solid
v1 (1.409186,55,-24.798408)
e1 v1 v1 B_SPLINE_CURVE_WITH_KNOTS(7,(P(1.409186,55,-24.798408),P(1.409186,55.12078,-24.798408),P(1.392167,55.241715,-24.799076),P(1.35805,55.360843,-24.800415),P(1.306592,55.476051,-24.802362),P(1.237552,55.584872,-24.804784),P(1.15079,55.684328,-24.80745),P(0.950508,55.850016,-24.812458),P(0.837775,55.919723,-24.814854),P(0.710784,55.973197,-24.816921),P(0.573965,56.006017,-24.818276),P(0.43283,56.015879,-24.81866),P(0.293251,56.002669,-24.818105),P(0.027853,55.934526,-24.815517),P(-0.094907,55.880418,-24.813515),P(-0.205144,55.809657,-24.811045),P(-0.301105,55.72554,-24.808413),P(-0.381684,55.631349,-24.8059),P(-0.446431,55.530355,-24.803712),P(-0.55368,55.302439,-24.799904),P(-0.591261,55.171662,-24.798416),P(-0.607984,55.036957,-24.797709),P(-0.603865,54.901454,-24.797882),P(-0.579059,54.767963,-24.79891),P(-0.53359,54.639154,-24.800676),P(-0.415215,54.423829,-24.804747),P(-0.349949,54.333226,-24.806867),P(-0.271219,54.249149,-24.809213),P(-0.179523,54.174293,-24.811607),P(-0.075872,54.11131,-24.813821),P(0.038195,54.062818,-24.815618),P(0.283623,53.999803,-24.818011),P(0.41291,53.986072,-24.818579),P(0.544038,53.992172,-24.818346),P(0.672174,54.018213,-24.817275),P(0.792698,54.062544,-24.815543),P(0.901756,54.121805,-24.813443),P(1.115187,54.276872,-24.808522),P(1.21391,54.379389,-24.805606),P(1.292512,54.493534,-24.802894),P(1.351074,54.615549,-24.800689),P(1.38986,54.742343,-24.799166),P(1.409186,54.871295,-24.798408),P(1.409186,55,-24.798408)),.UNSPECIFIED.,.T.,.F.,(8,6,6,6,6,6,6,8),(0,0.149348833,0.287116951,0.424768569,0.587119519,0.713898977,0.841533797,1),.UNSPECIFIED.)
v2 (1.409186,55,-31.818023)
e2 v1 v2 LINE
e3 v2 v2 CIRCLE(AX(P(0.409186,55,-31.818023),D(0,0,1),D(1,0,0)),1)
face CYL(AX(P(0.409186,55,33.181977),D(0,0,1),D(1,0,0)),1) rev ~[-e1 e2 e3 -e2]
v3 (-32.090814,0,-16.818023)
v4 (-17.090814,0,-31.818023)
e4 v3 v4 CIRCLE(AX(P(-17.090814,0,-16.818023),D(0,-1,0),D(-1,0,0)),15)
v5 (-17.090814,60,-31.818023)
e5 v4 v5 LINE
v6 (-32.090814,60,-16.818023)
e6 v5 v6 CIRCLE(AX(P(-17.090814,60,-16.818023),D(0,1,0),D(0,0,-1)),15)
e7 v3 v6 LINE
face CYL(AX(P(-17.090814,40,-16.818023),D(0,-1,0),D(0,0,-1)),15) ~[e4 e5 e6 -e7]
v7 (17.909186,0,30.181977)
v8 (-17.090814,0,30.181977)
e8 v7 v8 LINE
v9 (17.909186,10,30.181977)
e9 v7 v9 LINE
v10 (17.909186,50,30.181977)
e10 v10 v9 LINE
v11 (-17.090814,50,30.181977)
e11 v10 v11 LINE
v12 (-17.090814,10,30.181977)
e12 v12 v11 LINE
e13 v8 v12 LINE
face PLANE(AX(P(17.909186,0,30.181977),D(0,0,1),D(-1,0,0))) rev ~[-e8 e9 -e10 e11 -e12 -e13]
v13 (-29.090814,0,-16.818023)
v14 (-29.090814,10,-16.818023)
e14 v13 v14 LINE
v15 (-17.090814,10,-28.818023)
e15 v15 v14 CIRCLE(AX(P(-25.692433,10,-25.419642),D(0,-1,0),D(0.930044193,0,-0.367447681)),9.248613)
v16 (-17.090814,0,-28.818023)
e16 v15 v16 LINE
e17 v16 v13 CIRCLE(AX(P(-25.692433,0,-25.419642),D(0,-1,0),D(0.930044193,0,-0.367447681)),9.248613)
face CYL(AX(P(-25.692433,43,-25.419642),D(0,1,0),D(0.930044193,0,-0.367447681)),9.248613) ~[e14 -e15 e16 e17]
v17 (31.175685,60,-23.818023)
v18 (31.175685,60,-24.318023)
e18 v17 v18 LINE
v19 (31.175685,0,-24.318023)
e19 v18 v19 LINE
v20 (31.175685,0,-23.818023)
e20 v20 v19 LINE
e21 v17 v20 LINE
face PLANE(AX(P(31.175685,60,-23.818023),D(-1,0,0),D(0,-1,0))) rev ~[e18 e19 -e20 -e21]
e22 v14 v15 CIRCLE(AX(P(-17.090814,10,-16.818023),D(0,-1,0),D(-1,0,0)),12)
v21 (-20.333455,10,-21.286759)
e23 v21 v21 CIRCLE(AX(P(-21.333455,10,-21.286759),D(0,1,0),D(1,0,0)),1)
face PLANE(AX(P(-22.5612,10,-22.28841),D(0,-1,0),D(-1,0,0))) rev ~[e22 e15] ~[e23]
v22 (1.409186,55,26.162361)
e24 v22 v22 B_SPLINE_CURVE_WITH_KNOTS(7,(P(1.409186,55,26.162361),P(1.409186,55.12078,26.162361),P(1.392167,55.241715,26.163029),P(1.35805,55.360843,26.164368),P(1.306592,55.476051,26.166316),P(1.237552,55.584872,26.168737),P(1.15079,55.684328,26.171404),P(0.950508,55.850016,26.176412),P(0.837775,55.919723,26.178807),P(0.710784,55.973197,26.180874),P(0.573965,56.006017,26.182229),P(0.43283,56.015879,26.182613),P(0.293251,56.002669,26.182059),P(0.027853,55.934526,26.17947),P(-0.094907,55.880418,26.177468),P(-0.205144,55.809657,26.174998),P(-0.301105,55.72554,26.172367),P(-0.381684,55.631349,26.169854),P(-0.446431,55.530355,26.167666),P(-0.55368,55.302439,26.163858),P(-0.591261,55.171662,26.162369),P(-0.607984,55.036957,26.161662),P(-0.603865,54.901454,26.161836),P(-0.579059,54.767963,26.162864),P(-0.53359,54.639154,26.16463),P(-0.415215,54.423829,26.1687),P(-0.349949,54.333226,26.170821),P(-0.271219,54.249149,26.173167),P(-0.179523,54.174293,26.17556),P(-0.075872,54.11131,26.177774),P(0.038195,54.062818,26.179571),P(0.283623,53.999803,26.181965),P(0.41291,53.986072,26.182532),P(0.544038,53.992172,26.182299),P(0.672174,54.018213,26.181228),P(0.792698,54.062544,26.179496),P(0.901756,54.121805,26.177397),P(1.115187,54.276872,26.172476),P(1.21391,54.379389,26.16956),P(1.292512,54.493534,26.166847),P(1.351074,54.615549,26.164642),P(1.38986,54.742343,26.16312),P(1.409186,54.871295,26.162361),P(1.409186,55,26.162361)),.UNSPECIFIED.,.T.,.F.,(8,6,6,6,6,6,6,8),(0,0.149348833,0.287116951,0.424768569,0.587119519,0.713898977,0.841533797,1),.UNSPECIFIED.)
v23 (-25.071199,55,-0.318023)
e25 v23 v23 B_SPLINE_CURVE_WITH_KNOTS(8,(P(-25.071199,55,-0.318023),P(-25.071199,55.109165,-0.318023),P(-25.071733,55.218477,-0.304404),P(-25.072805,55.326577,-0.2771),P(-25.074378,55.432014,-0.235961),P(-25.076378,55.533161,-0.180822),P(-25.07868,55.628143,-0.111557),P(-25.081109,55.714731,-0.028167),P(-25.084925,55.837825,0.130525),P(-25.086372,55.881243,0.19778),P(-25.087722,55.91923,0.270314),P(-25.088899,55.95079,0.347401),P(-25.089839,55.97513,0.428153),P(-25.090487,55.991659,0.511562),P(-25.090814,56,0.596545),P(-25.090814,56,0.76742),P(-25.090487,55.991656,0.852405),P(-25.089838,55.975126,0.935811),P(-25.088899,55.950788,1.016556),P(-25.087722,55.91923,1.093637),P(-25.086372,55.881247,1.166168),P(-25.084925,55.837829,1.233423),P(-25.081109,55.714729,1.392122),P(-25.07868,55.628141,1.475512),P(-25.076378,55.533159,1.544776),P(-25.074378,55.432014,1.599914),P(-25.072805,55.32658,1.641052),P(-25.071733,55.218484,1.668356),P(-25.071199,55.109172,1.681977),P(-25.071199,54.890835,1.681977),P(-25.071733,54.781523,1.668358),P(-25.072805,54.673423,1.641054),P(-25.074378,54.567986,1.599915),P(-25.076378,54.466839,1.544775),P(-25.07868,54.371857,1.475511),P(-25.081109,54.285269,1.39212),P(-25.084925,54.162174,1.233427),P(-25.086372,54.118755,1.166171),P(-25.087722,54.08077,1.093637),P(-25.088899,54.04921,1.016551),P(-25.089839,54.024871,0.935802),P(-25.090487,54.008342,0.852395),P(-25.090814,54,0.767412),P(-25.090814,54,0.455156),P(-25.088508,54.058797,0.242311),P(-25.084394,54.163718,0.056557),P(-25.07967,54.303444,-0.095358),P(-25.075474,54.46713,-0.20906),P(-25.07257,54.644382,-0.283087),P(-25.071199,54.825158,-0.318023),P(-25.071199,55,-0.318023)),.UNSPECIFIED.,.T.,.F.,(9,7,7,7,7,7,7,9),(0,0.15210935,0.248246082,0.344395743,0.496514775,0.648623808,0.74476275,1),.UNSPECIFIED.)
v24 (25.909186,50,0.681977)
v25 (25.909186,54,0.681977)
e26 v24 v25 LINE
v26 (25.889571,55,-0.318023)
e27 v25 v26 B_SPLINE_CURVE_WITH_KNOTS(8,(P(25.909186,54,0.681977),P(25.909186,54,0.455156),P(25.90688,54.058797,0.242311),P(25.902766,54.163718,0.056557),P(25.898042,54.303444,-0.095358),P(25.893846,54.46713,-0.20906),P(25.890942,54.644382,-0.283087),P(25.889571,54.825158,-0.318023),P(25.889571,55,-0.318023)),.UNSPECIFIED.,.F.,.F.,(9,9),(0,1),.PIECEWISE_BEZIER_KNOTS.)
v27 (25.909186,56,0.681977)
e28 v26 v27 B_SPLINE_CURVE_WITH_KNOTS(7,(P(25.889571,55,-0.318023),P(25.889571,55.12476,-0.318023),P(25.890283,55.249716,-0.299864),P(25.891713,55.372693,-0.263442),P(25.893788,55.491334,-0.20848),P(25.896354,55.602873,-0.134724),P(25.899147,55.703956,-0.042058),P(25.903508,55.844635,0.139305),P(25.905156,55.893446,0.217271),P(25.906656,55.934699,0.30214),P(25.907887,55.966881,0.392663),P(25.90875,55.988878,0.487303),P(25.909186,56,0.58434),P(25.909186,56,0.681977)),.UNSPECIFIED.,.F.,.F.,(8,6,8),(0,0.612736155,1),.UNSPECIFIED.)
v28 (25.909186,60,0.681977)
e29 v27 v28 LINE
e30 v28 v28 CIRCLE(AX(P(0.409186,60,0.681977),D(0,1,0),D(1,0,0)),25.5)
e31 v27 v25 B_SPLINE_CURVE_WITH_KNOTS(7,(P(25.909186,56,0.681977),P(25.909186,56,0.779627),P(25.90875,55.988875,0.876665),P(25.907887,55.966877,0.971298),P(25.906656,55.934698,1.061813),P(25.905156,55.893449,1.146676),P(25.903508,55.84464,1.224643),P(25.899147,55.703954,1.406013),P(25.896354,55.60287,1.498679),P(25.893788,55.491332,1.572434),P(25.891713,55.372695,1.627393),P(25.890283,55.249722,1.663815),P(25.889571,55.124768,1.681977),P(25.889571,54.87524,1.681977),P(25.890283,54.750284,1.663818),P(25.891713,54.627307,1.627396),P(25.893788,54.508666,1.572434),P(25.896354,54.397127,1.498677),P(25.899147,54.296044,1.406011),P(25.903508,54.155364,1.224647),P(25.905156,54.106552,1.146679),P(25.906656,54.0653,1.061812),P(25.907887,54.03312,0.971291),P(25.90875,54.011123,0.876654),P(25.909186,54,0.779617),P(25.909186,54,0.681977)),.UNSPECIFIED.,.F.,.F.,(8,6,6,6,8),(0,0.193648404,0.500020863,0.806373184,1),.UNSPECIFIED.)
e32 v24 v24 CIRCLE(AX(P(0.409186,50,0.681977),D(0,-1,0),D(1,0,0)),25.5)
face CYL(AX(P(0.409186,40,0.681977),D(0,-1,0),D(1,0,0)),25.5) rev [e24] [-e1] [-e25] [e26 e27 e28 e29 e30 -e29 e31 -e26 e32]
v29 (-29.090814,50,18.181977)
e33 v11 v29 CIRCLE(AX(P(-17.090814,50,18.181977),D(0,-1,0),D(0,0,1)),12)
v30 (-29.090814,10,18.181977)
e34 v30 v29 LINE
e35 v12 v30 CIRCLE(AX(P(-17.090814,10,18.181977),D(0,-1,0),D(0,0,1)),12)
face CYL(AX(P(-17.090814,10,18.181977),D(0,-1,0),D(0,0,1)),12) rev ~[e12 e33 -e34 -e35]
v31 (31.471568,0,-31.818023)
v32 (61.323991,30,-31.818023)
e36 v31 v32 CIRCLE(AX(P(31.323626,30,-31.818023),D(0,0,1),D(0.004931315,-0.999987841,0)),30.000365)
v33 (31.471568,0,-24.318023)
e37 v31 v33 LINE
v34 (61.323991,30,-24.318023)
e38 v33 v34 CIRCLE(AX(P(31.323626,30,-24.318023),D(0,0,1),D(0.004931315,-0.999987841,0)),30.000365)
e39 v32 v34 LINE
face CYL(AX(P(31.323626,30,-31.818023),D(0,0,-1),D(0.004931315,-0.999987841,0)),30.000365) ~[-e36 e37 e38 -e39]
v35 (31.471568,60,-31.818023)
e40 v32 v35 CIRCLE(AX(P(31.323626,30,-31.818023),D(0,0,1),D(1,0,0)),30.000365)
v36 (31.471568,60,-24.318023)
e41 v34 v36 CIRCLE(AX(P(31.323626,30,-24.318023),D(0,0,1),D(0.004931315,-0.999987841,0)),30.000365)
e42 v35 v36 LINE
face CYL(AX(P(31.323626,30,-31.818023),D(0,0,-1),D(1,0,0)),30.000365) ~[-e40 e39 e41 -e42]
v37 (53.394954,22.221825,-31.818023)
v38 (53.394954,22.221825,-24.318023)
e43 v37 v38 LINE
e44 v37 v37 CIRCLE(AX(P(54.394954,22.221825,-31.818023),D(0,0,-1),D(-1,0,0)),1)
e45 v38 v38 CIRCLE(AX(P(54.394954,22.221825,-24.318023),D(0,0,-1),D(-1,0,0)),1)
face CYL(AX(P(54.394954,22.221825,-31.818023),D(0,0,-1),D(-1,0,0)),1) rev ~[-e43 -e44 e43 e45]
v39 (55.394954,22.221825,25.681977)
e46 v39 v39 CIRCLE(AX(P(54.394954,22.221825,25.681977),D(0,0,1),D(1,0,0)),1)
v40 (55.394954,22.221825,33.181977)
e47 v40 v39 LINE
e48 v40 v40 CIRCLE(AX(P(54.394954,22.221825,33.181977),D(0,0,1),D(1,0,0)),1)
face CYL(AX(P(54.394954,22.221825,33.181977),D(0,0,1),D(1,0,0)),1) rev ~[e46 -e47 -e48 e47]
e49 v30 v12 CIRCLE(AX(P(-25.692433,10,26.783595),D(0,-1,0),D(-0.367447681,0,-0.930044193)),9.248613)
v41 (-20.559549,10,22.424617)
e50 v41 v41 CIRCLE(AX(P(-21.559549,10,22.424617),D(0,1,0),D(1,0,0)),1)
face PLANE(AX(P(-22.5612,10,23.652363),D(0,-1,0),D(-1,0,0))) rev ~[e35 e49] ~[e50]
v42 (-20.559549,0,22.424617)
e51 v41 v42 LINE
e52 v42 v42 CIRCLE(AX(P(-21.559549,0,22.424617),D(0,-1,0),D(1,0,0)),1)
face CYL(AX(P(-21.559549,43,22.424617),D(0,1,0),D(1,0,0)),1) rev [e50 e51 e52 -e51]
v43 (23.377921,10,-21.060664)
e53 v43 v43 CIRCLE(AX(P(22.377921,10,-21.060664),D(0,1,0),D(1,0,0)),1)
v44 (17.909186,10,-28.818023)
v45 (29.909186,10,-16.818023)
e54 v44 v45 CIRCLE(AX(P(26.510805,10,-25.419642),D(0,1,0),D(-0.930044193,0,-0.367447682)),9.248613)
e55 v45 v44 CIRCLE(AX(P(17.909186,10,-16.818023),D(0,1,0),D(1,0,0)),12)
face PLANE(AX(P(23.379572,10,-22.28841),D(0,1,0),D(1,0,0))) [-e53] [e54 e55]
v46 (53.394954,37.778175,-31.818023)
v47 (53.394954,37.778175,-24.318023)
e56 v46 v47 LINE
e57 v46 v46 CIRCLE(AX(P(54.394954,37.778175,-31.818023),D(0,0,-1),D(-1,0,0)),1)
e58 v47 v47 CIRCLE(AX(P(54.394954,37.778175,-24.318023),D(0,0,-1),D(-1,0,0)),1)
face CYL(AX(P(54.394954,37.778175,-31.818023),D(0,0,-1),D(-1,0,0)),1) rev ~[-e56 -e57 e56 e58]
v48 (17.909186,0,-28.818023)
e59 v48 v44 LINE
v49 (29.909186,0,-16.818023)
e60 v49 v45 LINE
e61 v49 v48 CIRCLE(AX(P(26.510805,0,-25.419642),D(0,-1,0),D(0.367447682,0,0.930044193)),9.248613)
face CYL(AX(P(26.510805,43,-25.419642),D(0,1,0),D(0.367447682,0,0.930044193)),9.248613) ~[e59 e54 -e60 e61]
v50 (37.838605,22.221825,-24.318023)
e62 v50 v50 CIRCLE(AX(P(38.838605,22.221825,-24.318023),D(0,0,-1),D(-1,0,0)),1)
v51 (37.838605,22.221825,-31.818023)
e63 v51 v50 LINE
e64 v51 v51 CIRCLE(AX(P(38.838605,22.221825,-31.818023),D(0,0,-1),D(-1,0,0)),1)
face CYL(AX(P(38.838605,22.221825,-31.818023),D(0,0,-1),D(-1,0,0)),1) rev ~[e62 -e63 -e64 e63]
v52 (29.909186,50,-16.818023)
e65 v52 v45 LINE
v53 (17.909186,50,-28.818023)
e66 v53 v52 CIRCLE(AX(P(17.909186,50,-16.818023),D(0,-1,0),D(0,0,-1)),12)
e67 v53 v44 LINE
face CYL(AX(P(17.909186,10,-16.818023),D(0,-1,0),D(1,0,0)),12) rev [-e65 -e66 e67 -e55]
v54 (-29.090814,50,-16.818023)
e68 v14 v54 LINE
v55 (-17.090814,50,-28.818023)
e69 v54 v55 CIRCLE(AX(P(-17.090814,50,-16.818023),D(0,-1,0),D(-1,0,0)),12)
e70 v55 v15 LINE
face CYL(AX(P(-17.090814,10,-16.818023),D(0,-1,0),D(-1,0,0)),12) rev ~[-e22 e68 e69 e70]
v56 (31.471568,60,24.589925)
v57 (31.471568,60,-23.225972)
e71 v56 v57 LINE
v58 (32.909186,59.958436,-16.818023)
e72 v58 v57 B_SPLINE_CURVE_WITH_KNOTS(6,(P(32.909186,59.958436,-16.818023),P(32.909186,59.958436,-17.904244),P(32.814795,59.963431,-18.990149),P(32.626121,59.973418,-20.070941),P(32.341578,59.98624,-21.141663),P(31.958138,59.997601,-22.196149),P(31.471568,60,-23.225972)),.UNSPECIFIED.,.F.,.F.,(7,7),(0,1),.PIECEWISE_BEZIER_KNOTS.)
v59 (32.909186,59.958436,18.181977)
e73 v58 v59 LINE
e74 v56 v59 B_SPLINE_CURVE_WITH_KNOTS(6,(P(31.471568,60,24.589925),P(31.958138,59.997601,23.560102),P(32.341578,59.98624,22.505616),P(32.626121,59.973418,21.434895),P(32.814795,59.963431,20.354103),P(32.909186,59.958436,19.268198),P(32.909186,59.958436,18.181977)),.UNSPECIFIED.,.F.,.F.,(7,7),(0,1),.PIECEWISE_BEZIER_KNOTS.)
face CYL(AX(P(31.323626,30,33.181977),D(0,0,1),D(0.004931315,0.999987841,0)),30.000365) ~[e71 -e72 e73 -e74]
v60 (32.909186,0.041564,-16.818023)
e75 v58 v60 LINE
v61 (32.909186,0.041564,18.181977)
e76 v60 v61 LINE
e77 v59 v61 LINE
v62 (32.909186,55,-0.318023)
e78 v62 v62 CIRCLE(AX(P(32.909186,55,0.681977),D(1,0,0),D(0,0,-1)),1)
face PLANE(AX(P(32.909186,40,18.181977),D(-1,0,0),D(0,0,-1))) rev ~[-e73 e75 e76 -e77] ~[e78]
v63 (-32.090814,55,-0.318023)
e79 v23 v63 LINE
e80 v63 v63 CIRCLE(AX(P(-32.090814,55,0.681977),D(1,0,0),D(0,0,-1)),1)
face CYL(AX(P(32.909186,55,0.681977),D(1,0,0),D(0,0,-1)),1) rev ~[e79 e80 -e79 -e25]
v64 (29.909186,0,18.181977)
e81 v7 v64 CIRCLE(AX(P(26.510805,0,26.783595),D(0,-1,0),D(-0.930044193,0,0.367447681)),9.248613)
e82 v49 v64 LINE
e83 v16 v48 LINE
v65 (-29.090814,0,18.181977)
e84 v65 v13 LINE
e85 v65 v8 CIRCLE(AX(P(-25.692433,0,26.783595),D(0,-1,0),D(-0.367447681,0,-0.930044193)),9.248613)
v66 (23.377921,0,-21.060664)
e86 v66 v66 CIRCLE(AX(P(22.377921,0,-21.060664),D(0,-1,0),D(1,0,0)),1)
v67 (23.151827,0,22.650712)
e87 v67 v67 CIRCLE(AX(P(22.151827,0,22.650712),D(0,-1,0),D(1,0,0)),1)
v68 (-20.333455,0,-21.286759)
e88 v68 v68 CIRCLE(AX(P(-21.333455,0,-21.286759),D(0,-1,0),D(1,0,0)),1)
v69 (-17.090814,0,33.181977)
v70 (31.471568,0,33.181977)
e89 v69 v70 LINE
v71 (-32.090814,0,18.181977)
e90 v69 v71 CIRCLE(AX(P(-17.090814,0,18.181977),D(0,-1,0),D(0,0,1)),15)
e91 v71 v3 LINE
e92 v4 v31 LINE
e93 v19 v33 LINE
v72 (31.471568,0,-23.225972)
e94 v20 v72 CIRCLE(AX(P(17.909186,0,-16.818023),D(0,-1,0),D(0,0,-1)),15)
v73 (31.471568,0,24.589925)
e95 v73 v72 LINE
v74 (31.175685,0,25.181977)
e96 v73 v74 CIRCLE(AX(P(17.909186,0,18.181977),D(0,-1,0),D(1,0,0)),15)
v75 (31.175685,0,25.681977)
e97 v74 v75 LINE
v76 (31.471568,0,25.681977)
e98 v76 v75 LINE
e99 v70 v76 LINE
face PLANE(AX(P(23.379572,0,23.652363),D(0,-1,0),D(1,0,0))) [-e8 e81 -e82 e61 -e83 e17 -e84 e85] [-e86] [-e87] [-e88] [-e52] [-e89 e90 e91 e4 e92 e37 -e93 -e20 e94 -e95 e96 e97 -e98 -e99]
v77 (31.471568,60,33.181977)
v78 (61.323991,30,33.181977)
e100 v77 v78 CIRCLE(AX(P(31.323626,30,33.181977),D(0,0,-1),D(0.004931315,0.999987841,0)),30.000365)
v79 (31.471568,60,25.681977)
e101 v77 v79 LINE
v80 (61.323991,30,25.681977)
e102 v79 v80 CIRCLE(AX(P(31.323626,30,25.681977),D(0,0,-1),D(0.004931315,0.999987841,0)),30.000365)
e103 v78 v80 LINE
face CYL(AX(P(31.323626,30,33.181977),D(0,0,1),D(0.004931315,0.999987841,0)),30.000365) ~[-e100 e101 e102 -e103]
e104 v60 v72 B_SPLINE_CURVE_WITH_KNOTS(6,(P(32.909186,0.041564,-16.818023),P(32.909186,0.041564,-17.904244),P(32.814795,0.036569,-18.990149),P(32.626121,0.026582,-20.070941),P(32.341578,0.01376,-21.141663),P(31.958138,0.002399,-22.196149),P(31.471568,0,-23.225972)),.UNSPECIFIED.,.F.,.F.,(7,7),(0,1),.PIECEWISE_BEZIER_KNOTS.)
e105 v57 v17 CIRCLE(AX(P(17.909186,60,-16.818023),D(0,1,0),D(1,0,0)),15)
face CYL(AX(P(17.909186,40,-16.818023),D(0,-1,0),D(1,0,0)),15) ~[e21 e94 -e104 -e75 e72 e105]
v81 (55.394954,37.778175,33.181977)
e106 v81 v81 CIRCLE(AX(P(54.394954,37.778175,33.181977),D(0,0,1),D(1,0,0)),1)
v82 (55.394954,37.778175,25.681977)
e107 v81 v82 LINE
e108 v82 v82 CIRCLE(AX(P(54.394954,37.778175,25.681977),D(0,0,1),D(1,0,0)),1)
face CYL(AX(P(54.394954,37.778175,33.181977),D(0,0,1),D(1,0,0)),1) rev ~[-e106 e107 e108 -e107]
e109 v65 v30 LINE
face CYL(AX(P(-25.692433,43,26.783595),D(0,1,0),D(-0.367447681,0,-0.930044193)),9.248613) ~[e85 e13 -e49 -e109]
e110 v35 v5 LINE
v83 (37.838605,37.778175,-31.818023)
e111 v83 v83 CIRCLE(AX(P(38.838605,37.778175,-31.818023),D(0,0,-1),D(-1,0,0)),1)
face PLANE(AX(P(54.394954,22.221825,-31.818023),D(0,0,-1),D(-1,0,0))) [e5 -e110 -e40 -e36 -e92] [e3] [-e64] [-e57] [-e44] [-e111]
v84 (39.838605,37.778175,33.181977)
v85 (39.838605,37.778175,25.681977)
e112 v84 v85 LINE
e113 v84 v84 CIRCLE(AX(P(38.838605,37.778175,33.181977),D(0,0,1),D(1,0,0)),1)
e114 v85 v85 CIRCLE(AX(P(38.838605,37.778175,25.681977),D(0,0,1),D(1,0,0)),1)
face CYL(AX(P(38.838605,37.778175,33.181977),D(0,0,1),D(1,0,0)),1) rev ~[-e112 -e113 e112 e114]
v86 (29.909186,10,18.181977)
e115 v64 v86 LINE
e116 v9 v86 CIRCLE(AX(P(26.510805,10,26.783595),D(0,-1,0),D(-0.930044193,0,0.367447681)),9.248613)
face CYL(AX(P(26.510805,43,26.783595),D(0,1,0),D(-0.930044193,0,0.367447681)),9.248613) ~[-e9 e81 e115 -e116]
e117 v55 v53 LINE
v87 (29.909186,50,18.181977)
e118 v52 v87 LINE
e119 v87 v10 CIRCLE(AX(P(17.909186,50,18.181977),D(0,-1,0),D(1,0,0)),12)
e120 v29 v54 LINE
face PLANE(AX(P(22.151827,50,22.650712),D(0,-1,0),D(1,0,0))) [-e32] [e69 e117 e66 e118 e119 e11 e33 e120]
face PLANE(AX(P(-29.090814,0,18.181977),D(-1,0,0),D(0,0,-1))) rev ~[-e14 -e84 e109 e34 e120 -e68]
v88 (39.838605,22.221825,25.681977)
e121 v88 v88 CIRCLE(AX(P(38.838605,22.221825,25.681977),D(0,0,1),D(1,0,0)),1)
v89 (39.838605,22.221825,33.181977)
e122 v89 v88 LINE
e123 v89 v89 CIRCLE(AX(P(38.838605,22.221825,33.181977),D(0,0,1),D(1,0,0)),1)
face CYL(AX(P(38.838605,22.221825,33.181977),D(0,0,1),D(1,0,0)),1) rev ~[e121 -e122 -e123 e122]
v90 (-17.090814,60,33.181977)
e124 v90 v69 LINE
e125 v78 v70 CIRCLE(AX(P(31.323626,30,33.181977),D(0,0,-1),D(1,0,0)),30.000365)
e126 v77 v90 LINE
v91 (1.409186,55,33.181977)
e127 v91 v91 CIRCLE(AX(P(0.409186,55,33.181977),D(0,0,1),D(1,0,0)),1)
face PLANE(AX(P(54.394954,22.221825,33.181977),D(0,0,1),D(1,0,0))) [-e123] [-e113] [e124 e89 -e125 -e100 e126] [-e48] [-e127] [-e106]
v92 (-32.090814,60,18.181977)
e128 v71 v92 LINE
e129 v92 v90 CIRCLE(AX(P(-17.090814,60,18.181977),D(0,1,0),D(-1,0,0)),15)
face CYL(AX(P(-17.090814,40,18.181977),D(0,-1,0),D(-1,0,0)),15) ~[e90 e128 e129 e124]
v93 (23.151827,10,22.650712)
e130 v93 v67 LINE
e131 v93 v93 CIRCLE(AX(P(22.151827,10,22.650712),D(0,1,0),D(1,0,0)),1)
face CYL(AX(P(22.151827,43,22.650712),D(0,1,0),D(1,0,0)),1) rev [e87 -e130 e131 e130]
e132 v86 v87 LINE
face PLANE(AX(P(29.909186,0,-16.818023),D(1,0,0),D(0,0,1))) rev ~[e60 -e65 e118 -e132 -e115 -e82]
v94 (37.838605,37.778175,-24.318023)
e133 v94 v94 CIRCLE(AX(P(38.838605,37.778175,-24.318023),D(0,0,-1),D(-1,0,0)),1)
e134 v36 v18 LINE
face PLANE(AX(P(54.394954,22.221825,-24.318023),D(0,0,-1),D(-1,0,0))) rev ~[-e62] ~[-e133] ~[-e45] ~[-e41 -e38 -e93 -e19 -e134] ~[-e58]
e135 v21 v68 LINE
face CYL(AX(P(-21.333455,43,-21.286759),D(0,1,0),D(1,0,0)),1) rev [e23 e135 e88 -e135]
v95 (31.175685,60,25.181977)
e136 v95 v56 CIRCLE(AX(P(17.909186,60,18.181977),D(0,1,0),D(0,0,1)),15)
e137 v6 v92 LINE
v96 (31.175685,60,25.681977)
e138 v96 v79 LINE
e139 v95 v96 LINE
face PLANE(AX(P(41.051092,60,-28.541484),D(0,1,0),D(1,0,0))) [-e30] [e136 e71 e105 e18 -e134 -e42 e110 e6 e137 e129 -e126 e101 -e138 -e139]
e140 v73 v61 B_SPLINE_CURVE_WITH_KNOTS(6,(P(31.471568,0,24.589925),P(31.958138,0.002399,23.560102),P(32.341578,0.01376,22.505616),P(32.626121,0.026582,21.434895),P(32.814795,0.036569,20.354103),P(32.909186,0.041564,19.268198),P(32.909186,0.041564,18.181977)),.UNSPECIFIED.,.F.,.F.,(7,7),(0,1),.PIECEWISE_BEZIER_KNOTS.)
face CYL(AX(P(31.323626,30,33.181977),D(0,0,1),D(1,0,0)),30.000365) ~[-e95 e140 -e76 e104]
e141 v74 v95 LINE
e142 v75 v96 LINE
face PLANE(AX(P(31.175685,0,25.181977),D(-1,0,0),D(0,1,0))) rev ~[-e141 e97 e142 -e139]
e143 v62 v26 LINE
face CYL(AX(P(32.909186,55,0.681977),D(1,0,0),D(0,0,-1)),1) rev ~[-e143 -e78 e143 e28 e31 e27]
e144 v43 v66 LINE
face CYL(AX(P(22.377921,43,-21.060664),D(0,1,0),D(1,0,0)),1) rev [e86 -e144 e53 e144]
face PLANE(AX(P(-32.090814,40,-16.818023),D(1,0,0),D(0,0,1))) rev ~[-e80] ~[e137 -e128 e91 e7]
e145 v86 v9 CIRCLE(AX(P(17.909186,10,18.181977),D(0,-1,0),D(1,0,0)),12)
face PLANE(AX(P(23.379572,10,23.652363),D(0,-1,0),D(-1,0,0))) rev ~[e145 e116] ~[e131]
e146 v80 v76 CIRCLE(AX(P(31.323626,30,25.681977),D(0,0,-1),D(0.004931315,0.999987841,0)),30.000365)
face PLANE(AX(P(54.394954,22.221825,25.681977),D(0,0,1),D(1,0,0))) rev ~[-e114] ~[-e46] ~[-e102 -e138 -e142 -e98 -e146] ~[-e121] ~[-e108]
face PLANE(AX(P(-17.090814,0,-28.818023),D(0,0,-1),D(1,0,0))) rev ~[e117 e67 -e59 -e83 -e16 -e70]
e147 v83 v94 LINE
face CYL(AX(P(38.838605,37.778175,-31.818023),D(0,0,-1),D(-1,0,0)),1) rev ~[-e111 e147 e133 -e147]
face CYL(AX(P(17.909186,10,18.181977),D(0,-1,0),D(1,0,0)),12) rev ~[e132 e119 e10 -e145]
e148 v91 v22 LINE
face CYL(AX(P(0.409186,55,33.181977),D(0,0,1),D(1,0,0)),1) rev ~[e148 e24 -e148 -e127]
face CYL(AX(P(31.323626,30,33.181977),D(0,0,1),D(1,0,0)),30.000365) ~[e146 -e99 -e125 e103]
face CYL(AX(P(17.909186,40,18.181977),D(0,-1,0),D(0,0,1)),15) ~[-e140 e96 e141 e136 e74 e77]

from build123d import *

# Parameters (mm, degrees)
BOSS_EXTRUDE1_DEPTH      = 40
SKETCH2_R                = 25.5
BOSS_EXTRUDE2_DEPTH      = 20
SKETCH3_R                = 4
CUT_EXTRUDE1_DEPTH       = 20
SKETCH5_R                = 1.5
CUT_EXTRUDE4_DEPTH       = 13.5
CUT_EXTRUDE5_DEPTH       = 3
BOSS_EXTRUDE3_DEPTH      = 60
CUT_EXTRUDE6_DEPTH       = 60
SKETCH9_R                = 1.5
CUT_EXTRUDE7_DEPTH       = 60
BOSS_EXTRUDE4_DEPTH      = 60
SKETCH12_R               = 1.5
CUT_EXTRUDE8_DEPTH       = 8
CUT_EXTRUDE9_DEPTH       = 0.5
CUT_EXTRUDE10_DEPTH      = 0.5
SKETCH15_R               = 4
SKETCH15_R_2             = 1.5
BOSS_EXTRUDE5_DEPTH      = 3
SKETCH16_R               = 1
CUT_EXTRUDE11_DEPTH      = 117
SKETCH19_R               = 1
BOSS_EXTRUDE7_DEPTH      = 43
SKETCH21_R               = 25.5
CUT_EXTRUDE12_DEPTH      = 33
CUT_EXTRUDE13_DEPTH      = 7
SKETCH24_R               = 1
CUT_EXTRUDE14_DEPTH      = 10
CUT_EXTRUDE14_DEPTH_BACK = 100
SKETCH25_R               = 1
CUT_EXTRUDE15_DEPTH      = 100
CUT_EXTRUDE15_DEPTH_BACK = 100
SKETCH29_R               = 1
BOSS_EXTRUDE9_DEPTH      = 10
SKETCH30_R               = 1.5
SKETCH30_R_2             = 1
BOSS_EXTRUDE10_DEPTH     = 7.5
SKETCH34_R               = 1.5
SKETCH34_R_2             = 1
BOSS_EXTRUDE12_DEPTH     = 7.5


with BuildPart() as part:
    # Sketch1 → Boss-Extrude1 (new body)
    with BuildSketch(Plane(origin=(0, 0, 0), x_dir=(1, 0, 0), z_dir=(0, 1, 0))):
        with BuildLine():
            Line((-17.090813971, 31.818023286), (17.909186029, 31.818023286))
            ThreePointArc((17.909186029, 31.818023286), (28.515787746, 27.424625004), (32.909186029, 16.818023286))
            Line((32.909186029, 16.818023286), (32.909186029, -18.181976714))
            ThreePointArc((32.909186029, -18.181976714), (28.515787746, -28.788578432), (17.909186029, -33.181976714))
            Line((17.909186029, -33.181976714), (-17.090813971, -33.181976714))
            ThreePointArc((-17.090813971, -33.181976714), (-27.697415689, -28.788578432), (-32.090813971, -18.181976714))
            Line((-32.090813971, -18.181976714), (-32.090813971, 16.818023286))
            ThreePointArc((-32.090813971, 16.818023286), (-27.697415689, 27.424625004), (-17.090813971, 31.818023286))
        make_face()
        with BuildLine():
            Line((-17.090813971, 28.818023286), (17.909186029, 28.818023286))
            ThreePointArc((17.909186029, 28.818023286), (26.394467403, 25.30330466), (29.909186029, 16.818023286))
            Line((29.909186029, 16.818023286), (29.909186029, -18.181976714))
            ThreePointArc((29.909186029, -18.181976714), (26.394467403, -26.667258088), (17.909186029, -30.181976714))
            Line((17.909186029, -30.181976714), (-17.090813971, -30.181976714))
            ThreePointArc((-17.090813971, -30.181976714), (-25.576095346, -26.667258088), (-29.090813971, -18.181976714))
            Line((-29.090813971, -18.181976714), (-29.090813971, 16.818023286))
            ThreePointArc((-29.090813971, 16.818023286), (-25.576095346, 25.30330466), (-17.090813971, 28.818023286))
        make_face(mode=Mode.SUBTRACT)
    extrude(amount=BOSS_EXTRUDE1_DEPTH)

    # Sketch2 → Boss-Extrude2 (add)
    with BuildSketch(Plane(origin=(0, 40, 0), x_dir=(1, 0, 0), z_dir=(0, 1, 0))):
        with BuildLine():
            ThreePointArc((32.909186029, 16.818023286), (28.515787746, 27.424625004), (17.909186029, 31.818023286))
            Line((17.909186029, 31.818023286), (-17.090813971, 31.818023286))
            ThreePointArc((-17.090813971, 31.818023286), (-27.697415689, 27.424625004), (-32.090813971, 16.818023286))
            Line((-32.090813971, 16.818023286), (-32.090813971, -18.181976714))
            ThreePointArc((-32.090813971, -18.181976714), (-27.697415689, -28.788578432), (-17.090813971, -33.181976714))
            Line((-17.090813971, -33.181976714), (17.909186029, -33.181976714))
            ThreePointArc((17.909186029, -33.181976714), (28.515787746, -28.788578432), (32.909186029, -18.181976714))
            Line((32.909186029, -18.181976714), (32.909186029, 16.818023286))
        make_face()
        with Locations((0.409186029, -0.681976714)):
            Circle(SKETCH2_R, mode=Mode.SUBTRACT)
    extrude(amount=BOSS_EXTRUDE2_DEPTH)

    # Sketch3 → Cut-Extrude1 (cut)
    with BuildSketch(Plane.XY.offset(33.181976714)):
        with Locations((0.409186029, 30)):
            Circle(SKETCH3_R)
    extrude(amount=-CUT_EXTRUDE1_DEPTH, mode=Mode.SUBTRACT)

    # Sketch5 → Cut-Extrude4 (cut)
    with BuildSketch(Plane.XY.offset(33.181976714)):
        with Locations((8.187360622, 22.221825407)):
            Circle(SKETCH5_R)
        with Locations((8.187360622, 37.778174593)):
            Circle(SKETCH5_R)
        with Locations((-7.368988565, 37.778174593)):
            Circle(SKETCH5_R)
        with Locations((-7.368988565, 22.221825407)):
            Circle(SKETCH5_R)
    extrude(amount=-CUT_EXTRUDE4_DEPTH, mode=Mode.SUBTRACT)

    # Sketch6 → Cut-Extrude5 (cut)
    with BuildSketch(Plane.XZ.offset(-40)):
        with BuildLine():
            Line((-17.090813971, -28.818023286), (17.909186029, -28.818023286))
            ThreePointArc((17.909186029, -28.818023286), (26.394467403, -25.30330466), (29.909186029, -16.818023286))
            Line((29.909186029, -16.818023286), (29.909186029, 18.181976714))
            ThreePointArc((29.909186029, 18.181976714), (26.394467403, 26.667258088), (17.909186029, 30.181976714))
            Line((17.909186029, 30.181976714), (-17.090813971, 30.181976714))
            ThreePointArc((-17.090813971, 30.181976714), (-25.576095346, 26.667258088), (-29.090813971, 18.181976714))
            Line((-29.090813971, 18.181976714), (-29.090813971, -16.818023286))
            ThreePointArc((-29.090813971, -16.818023286), (-25.576095346, -25.30330466), (-17.090813971, -28.818023286))
        make_face()
    extrude(amount=-CUT_EXTRUDE5_DEPTH, mode=Mode.SUBTRACT)

    # Sketch7 → Boss-Extrude3 (add)
    with BuildSketch(Plane.XZ):
        with BuildLine():
            Line((61.323991226, 25.181976714), (61.323991226, 33.181976714))
            Line((61.323991226, 33.181976714), (17.909186029, 33.181976714))
            ThreePointArc((17.909186029, 33.181976714), (25.655152721, 31.027209293), (31.17568519, 25.181976714))
            Line((31.17568519, 25.181976714), (61.323991226, 25.181976714))
        make_face()
    extrude(amount=-BOSS_EXTRUDE3_DEPTH)

    # Sketch8 → Cut-Extrude6 (cut)
    with BuildSketch(Plane.XY.offset(33.181976714)):
        with BuildLine():
            ThreePointArc((61.323991226, 30), (52.589328632, 8.838908407), (31.471567713, 0))
            Line((31.471567713, 0), (61.323991226, 0))
            Line((61.323991226, 0), (61.323991226, 30))
        make_face()
        with BuildLine():
            Line((61.323991226, 60), (31.471567713, 60))
            ThreePointArc((31.471567713, 60), (52.589328632, 51.161091593), (61.323991226, 30))
            Line((61.323991226, 30), (61.323991226, 60))
        make_face()
    extrude(amount=-CUT_EXTRUDE6_DEPTH, mode=Mode.SUBTRACT)

    # Sketch9 → Cut-Extrude7 (cut)
    with BuildSketch(Plane.XY.offset(33.181976714)):
        with Locations((54.39495386, 22.221825407)):
            Circle(SKETCH9_R)
        with Locations((38.838604674, 37.778174593)):
            Circle(SKETCH9_R)
        with Locations((54.39495386, 37.778174593)):
            Circle(SKETCH9_R)
        with Locations((38.838604674, 22.221825407)):
            Circle(SKETCH9_R)
    extrude(amount=-CUT_EXTRUDE7_DEPTH, mode=Mode.SUBTRACT)

    # Sketch11 → Boss-Extrude4 (add)
    with BuildSketch(Plane(origin=(0, 60, 0), x_dir=(1, 0, 0), z_dir=(0, 1, 0))):
        with BuildLine():
            Line((57.937839218, 31.818023286), (17.909186029, 31.818023286))
            ThreePointArc((17.909186029, 31.818023286), (25.655152721, 29.663255864), (31.17568519, 23.818023286))
            Line((31.17568519, 23.818023286), (58.682463464, 23.818023286))
            Line((58.682463464, 23.818023286), (61.323991226, 23.818023286))
            Line((61.323991226, 23.818023286), (61.323991226, 31.818023286))
            Line((61.323991226, 31.818023286), (57.937839218, 31.818023286))
        make_face()
    extrude(amount=-BOSS_EXTRUDE4_DEPTH)

    # Sketch12 → Cut-Extrude8 (cut)
    with BuildSketch(Plane(origin=(0, 0, -31.818023286), x_dir=(-1, 0, 0), z_dir=(0, 0, -1))):
        with BuildLine():
            Line((-61.323991226, 30), (-61.323991226, 0))
            Line((-61.323991226, 0), (-31.471567713, 0))
            ThreePointArc((-31.471567713, 0), (-52.589328632, 8.838908407), (-61.323991226, 30))
        make_face()
        with BuildLine():
            Line((-61.323991226, 60), (-61.323991226, 30))
            ThreePointArc((-61.323991226, 30), (-52.589328632, 51.161091593), (-31.471567713, 60))
            Line((-31.471567713, 60), (-61.323991226, 60))
        make_face()
        with Locations((-54.39495386, 37.778174593)):
            Circle(SKETCH12_R)
        with Locations((-54.39495386, 22.221825407)):
            Circle(SKETCH12_R)
        with Locations((-38.838604674, 22.221825407)):
            Circle(SKETCH12_R)
        with Locations((-38.838604674, 37.778174593)):
            Circle(SKETCH12_R)
    extrude(amount=-CUT_EXTRUDE8_DEPTH, mode=Mode.SUBTRACT)

    # Sketch13 → Cut-Extrude9 (cut)
    with BuildSketch(Plane(origin=(0, 0, 25.181976714), x_dir=(-1, 0, 0), z_dir=(0, 0, -1))):
        with BuildLine():
            Line((-31.17568519, 60), (-31.471567713, 60))
            ThreePointArc((-31.471567713, 60), (-61.323991226, 30), (-31.471567713, 0))
            Line((-31.471567713, 0), (-31.17568519, 0))
            Line((-31.17568519, 0), (-31.17568519, 60))
        make_face()
    extrude(amount=-CUT_EXTRUDE9_DEPTH, mode=Mode.SUBTRACT)

    # Sketch14 → Cut-Extrude10 (cut)
    with BuildSketch(Plane.XY.offset(-23.818023286)):
        with BuildLine():
            Line((31.17568519, 0), (31.471567713, 0))
            ThreePointArc((31.471567713, 0), (61.323991226, 30), (31.471567713, 60))
            Line((31.471567713, 60), (31.17568519, 60))
            Line((31.17568519, 60), (31.17568519, 0))
        make_face()
    extrude(amount=-CUT_EXTRUDE10_DEPTH, mode=Mode.SUBTRACT)

    # Sketch15 → Boss-Extrude5 (add)
    with BuildSketch(Plane.XY.offset(33.181976714)):
        with Locations((0.409186029, 30)):
            Circle(SKETCH15_R)
        with Locations((-7.368988565, 22.221825407)):
            Circle(SKETCH15_R_2)
        with Locations((8.187360622, 22.221825407)):
            Circle(SKETCH15_R_2)
        with Locations((8.187360622, 37.778174593)):
            Circle(SKETCH15_R_2)
        with Locations((-7.368988565, 37.778174593)):
            Circle(SKETCH15_R_2)
    extrude(amount=-BOSS_EXTRUDE5_DEPTH)

    # Sketch16 → Cut-Extrude11 (cut)
    with BuildSketch(Plane.XZ.offset(-43)):
        with Locations((22.151826716, 22.650712067)):
            Circle(SKETCH16_R)
        with Locations((-21.559549324, 22.424617401)):
            Circle(SKETCH16_R)
        with Locations((-21.333454659, -21.286758638)):
            Circle(SKETCH16_R)
        with Locations((22.377921381, -21.060663973)):
            Circle(SKETCH16_R)
    extrude(amount=-CUT_EXTRUDE11_DEPTH, mode=Mode.SUBTRACT)

    # Sketch19 → Boss-Extrude7 (add)
    with BuildSketch(Plane.XZ.offset(-43)):
        with BuildLine():
            ThreePointArc((17.909186029, 30.181976714), (19.971047838, 20.243838524), (29.909186029, 18.181976714))
            ThreePointArc((29.909186029, 18.181976714), (26.394467403, 26.667258088), (17.909186029, 30.181976714))
        make_face()
        with Locations((22.151826716, 22.650712067)):
            Circle(SKETCH19_R, mode=Mode.SUBTRACT)
        with BuildLine():
            ThreePointArc((29.909186029, -16.818023286), (19.971047838, -18.879885095), (17.909186029, -28.818023286))
            ThreePointArc((17.909186029, -28.818023286), (26.394467403, -25.30330466), (29.909186029, -16.818023286))
        make_face()
        with Locations((22.377921381, -21.060663973)):
            Circle(SKETCH19_R, mode=Mode.SUBTRACT)
        with BuildLine():
            ThreePointArc((-17.090813971, -28.818023286), (-19.152675781, -18.879885095), (-29.090813971, -16.818023286))
            ThreePointArc((-29.090813971, -16.818023286), (-25.576095346, -25.30330466), (-17.090813971, -28.818023286))
        make_face()
        with Locations((-21.333454659, -21.286758638)):
            Circle(SKETCH19_R, mode=Mode.SUBTRACT)
        with BuildLine():
            ThreePointArc((-29.090813971, 18.181976714), (-19.152675781, 20.243838524), (-17.090813971, 30.181976714))
            ThreePointArc((-17.090813971, 30.181976714), (-25.576095346, 26.667258088), (-29.090813971, 18.181976714))
        make_face()
        with Locations((-21.559549324, 22.424617401)):
            Circle(SKETCH19_R, mode=Mode.SUBTRACT)
    extrude(amount=BOSS_EXTRUDE7_DEPTH)

    # Sketch21 → Cut-Extrude12 (cut)
    with BuildSketch(Plane(origin=(0, 10, 0), x_dir=(-1, 0, 0), z_dir=(0, -1, 0))):
        with Locations((-0.409186029, -0.681976714)):
            Circle(SKETCH21_R)
        with BuildLine():
            ThreePointArc((-29.909186029, 16.818023286), (-26.394467403, 25.30330466), (-17.909186029, 28.818023286))
            ThreePointArc((-17.909186029, 28.818023286), (-19.971047838, 18.879885095), (-29.909186029, 16.818023286))
        make_face()
        with BuildLine():
            ThreePointArc((17.090813971, 28.818023286), (19.152675781, 18.879885095), (29.090813971, 16.818023286))
            ThreePointArc((29.090813971, 16.818023286), (25.576095346, 25.30330466), (17.090813971, 28.818023286))
        make_face()
        with BuildLine():
            ThreePointArc((29.090813971, -18.181976714), (19.152675781, -20.243838524), (17.090813971, -30.181976714))
            ThreePointArc((17.090813971, -30.181976714), (25.576095346, -26.667258088), (29.090813971, -18.181976714))
        make_face()
        with BuildLine():
            ThreePointArc((-17.909186029, -30.181976714), (-19.971047838, -20.243838524), (-29.909186029, -18.181976714))
            ThreePointArc((-29.909186029, -18.181976714), (-26.394467403, -26.667258088), (-17.909186029, -30.181976714))
        make_face()
    extrude(amount=-CUT_EXTRUDE12_DEPTH, mode=Mode.SUBTRACT)

    # Sketch23 → Cut-Extrude13 (cut)
    with BuildSketch(Plane.XZ.offset(-43)):
        with BuildLine():
            Line((17.909186029, 30.181976714), (-17.090813971, 30.181976714))
            ThreePointArc((-17.090813971, 30.181976714), (-25.576095346, 26.667258088), (-29.090813971, 18.181976714))
            Line((-29.090813971, 18.181976714), (-29.090813971, -16.818023286))
            ThreePointArc((-29.090813971, -16.818023286), (-25.576095346, -25.30330466), (-17.090813971, -28.818023286))
            Line((-17.090813971, -28.818023286), (17.909186029, -28.818023286))
            ThreePointArc((17.909186029, -28.818023286), (26.394467403, -25.30330466), (29.909186029, -16.818023286))
            Line((29.909186029, -16.818023286), (29.909186029, 18.181976714))
            ThreePointArc((29.909186029, 18.181976714), (26.394467403, 26.667258088), (17.909186029, 30.181976714))
        make_face()
    extrude(amount=-CUT_EXTRUDE13_DEPTH, mode=Mode.SUBTRACT)

    # Sketch24 → Cut-Extrude14 (cut, two sides)
    with BuildSketch(Plane.XY.offset(33.181976714)) as cut_extrude14_sk:
        with Locations((0.409186029, 55)):
            Circle(SKETCH24_R)
    extrude(amount=CUT_EXTRUDE14_DEPTH, mode=Mode.SUBTRACT)
    extrude(cut_extrude14_sk.sketch, amount=-CUT_EXTRUDE14_DEPTH_BACK, mode=Mode.SUBTRACT)

    # Sketch25 → Cut-Extrude15 (cut, two sides)
    with BuildSketch(Plane(origin=(32.909186029, 0, 0), x_dir=(0, 0, -1), z_dir=(1, 0, 0))) as cut_extrude15_sk:
        with Locations((-0.681976714, 55)):
            Circle(SKETCH25_R)
    extrude(amount=CUT_EXTRUDE15_DEPTH, mode=Mode.SUBTRACT)
    extrude(cut_extrude15_sk.sketch, amount=-CUT_EXTRUDE15_DEPTH_BACK, mode=Mode.SUBTRACT)

    # Sketch29 → Boss-Extrude9 (add)
    with BuildSketch(Plane.XZ.offset(-50)):
        with Locations((22.151826716, 22.650712067)):
            Circle(SKETCH29_R)
        with Locations((-21.559549324, 22.424617401)):
            Circle(SKETCH29_R)
        with Locations((-21.333454659, -21.286758638)):
            Circle(SKETCH29_R)
        with Locations((22.377921381, -21.060663973)):
            Circle(SKETCH29_R)
    extrude(amount=-BOSS_EXTRUDE9_DEPTH)

    # Sketch30 → Boss-Extrude10 (add)
    with BuildSketch(Plane(origin=(0, 0, -31.818023286), x_dir=(-1, 0, 0), z_dir=(0, 0, -1))):
        with Locations((-54.39495386, 22.221825407)):
            Circle(SKETCH30_R)
        with Locations((-54.39495386, 22.221825407)):
            Circle(SKETCH30_R_2, mode=Mode.SUBTRACT)
        with Locations((-38.838604674, 37.778174593)):
            Circle(SKETCH30_R)
        with Locations((-38.838604674, 37.778174593)):
            Circle(SKETCH30_R_2, mode=Mode.SUBTRACT)
        with Locations((-54.39495386, 37.778174593)):
            Circle(SKETCH30_R)
        with Locations((-54.39495386, 37.778174593)):
            Circle(SKETCH30_R_2, mode=Mode.SUBTRACT)
        with Locations((-38.838604674, 22.221825407)):
            Circle(SKETCH30_R)
        with Locations((-38.838604674, 22.221825407)):
            Circle(SKETCH30_R_2, mode=Mode.SUBTRACT)
    extrude(amount=-BOSS_EXTRUDE10_DEPTH)

    # Sketch34 → Boss-Extrude12 (add)
    with BuildSketch(Plane.XY.offset(33.181976714)):
        with Locations((54.39495386, 22.221825407)):
            Circle(SKETCH34_R)
        with Locations((54.39495386, 22.221825407)):
            Circle(SKETCH34_R_2, mode=Mode.SUBTRACT)
        with Locations((38.838604674, 22.221825407)):
            Circle(SKETCH34_R)
        with Locations((38.838604674, 22.221825407)):
            Circle(SKETCH34_R_2, mode=Mode.SUBTRACT)
        with Locations((38.838604674, 37.778174593)):
            Circle(SKETCH34_R)
        with Locations((38.838604674, 37.778174593)):
            Circle(SKETCH34_R_2, mode=Mode.SUBTRACT)
        with Locations((54.39495386, 37.778174593)):
            Circle(SKETCH34_R)
        with Locations((54.39495386, 37.778174593)):
            Circle(SKETCH34_R_2, mode=Mode.SUBTRACT)
    extrude(amount=-BOSS_EXTRUDE12_DEPTH)


solid = part.part
